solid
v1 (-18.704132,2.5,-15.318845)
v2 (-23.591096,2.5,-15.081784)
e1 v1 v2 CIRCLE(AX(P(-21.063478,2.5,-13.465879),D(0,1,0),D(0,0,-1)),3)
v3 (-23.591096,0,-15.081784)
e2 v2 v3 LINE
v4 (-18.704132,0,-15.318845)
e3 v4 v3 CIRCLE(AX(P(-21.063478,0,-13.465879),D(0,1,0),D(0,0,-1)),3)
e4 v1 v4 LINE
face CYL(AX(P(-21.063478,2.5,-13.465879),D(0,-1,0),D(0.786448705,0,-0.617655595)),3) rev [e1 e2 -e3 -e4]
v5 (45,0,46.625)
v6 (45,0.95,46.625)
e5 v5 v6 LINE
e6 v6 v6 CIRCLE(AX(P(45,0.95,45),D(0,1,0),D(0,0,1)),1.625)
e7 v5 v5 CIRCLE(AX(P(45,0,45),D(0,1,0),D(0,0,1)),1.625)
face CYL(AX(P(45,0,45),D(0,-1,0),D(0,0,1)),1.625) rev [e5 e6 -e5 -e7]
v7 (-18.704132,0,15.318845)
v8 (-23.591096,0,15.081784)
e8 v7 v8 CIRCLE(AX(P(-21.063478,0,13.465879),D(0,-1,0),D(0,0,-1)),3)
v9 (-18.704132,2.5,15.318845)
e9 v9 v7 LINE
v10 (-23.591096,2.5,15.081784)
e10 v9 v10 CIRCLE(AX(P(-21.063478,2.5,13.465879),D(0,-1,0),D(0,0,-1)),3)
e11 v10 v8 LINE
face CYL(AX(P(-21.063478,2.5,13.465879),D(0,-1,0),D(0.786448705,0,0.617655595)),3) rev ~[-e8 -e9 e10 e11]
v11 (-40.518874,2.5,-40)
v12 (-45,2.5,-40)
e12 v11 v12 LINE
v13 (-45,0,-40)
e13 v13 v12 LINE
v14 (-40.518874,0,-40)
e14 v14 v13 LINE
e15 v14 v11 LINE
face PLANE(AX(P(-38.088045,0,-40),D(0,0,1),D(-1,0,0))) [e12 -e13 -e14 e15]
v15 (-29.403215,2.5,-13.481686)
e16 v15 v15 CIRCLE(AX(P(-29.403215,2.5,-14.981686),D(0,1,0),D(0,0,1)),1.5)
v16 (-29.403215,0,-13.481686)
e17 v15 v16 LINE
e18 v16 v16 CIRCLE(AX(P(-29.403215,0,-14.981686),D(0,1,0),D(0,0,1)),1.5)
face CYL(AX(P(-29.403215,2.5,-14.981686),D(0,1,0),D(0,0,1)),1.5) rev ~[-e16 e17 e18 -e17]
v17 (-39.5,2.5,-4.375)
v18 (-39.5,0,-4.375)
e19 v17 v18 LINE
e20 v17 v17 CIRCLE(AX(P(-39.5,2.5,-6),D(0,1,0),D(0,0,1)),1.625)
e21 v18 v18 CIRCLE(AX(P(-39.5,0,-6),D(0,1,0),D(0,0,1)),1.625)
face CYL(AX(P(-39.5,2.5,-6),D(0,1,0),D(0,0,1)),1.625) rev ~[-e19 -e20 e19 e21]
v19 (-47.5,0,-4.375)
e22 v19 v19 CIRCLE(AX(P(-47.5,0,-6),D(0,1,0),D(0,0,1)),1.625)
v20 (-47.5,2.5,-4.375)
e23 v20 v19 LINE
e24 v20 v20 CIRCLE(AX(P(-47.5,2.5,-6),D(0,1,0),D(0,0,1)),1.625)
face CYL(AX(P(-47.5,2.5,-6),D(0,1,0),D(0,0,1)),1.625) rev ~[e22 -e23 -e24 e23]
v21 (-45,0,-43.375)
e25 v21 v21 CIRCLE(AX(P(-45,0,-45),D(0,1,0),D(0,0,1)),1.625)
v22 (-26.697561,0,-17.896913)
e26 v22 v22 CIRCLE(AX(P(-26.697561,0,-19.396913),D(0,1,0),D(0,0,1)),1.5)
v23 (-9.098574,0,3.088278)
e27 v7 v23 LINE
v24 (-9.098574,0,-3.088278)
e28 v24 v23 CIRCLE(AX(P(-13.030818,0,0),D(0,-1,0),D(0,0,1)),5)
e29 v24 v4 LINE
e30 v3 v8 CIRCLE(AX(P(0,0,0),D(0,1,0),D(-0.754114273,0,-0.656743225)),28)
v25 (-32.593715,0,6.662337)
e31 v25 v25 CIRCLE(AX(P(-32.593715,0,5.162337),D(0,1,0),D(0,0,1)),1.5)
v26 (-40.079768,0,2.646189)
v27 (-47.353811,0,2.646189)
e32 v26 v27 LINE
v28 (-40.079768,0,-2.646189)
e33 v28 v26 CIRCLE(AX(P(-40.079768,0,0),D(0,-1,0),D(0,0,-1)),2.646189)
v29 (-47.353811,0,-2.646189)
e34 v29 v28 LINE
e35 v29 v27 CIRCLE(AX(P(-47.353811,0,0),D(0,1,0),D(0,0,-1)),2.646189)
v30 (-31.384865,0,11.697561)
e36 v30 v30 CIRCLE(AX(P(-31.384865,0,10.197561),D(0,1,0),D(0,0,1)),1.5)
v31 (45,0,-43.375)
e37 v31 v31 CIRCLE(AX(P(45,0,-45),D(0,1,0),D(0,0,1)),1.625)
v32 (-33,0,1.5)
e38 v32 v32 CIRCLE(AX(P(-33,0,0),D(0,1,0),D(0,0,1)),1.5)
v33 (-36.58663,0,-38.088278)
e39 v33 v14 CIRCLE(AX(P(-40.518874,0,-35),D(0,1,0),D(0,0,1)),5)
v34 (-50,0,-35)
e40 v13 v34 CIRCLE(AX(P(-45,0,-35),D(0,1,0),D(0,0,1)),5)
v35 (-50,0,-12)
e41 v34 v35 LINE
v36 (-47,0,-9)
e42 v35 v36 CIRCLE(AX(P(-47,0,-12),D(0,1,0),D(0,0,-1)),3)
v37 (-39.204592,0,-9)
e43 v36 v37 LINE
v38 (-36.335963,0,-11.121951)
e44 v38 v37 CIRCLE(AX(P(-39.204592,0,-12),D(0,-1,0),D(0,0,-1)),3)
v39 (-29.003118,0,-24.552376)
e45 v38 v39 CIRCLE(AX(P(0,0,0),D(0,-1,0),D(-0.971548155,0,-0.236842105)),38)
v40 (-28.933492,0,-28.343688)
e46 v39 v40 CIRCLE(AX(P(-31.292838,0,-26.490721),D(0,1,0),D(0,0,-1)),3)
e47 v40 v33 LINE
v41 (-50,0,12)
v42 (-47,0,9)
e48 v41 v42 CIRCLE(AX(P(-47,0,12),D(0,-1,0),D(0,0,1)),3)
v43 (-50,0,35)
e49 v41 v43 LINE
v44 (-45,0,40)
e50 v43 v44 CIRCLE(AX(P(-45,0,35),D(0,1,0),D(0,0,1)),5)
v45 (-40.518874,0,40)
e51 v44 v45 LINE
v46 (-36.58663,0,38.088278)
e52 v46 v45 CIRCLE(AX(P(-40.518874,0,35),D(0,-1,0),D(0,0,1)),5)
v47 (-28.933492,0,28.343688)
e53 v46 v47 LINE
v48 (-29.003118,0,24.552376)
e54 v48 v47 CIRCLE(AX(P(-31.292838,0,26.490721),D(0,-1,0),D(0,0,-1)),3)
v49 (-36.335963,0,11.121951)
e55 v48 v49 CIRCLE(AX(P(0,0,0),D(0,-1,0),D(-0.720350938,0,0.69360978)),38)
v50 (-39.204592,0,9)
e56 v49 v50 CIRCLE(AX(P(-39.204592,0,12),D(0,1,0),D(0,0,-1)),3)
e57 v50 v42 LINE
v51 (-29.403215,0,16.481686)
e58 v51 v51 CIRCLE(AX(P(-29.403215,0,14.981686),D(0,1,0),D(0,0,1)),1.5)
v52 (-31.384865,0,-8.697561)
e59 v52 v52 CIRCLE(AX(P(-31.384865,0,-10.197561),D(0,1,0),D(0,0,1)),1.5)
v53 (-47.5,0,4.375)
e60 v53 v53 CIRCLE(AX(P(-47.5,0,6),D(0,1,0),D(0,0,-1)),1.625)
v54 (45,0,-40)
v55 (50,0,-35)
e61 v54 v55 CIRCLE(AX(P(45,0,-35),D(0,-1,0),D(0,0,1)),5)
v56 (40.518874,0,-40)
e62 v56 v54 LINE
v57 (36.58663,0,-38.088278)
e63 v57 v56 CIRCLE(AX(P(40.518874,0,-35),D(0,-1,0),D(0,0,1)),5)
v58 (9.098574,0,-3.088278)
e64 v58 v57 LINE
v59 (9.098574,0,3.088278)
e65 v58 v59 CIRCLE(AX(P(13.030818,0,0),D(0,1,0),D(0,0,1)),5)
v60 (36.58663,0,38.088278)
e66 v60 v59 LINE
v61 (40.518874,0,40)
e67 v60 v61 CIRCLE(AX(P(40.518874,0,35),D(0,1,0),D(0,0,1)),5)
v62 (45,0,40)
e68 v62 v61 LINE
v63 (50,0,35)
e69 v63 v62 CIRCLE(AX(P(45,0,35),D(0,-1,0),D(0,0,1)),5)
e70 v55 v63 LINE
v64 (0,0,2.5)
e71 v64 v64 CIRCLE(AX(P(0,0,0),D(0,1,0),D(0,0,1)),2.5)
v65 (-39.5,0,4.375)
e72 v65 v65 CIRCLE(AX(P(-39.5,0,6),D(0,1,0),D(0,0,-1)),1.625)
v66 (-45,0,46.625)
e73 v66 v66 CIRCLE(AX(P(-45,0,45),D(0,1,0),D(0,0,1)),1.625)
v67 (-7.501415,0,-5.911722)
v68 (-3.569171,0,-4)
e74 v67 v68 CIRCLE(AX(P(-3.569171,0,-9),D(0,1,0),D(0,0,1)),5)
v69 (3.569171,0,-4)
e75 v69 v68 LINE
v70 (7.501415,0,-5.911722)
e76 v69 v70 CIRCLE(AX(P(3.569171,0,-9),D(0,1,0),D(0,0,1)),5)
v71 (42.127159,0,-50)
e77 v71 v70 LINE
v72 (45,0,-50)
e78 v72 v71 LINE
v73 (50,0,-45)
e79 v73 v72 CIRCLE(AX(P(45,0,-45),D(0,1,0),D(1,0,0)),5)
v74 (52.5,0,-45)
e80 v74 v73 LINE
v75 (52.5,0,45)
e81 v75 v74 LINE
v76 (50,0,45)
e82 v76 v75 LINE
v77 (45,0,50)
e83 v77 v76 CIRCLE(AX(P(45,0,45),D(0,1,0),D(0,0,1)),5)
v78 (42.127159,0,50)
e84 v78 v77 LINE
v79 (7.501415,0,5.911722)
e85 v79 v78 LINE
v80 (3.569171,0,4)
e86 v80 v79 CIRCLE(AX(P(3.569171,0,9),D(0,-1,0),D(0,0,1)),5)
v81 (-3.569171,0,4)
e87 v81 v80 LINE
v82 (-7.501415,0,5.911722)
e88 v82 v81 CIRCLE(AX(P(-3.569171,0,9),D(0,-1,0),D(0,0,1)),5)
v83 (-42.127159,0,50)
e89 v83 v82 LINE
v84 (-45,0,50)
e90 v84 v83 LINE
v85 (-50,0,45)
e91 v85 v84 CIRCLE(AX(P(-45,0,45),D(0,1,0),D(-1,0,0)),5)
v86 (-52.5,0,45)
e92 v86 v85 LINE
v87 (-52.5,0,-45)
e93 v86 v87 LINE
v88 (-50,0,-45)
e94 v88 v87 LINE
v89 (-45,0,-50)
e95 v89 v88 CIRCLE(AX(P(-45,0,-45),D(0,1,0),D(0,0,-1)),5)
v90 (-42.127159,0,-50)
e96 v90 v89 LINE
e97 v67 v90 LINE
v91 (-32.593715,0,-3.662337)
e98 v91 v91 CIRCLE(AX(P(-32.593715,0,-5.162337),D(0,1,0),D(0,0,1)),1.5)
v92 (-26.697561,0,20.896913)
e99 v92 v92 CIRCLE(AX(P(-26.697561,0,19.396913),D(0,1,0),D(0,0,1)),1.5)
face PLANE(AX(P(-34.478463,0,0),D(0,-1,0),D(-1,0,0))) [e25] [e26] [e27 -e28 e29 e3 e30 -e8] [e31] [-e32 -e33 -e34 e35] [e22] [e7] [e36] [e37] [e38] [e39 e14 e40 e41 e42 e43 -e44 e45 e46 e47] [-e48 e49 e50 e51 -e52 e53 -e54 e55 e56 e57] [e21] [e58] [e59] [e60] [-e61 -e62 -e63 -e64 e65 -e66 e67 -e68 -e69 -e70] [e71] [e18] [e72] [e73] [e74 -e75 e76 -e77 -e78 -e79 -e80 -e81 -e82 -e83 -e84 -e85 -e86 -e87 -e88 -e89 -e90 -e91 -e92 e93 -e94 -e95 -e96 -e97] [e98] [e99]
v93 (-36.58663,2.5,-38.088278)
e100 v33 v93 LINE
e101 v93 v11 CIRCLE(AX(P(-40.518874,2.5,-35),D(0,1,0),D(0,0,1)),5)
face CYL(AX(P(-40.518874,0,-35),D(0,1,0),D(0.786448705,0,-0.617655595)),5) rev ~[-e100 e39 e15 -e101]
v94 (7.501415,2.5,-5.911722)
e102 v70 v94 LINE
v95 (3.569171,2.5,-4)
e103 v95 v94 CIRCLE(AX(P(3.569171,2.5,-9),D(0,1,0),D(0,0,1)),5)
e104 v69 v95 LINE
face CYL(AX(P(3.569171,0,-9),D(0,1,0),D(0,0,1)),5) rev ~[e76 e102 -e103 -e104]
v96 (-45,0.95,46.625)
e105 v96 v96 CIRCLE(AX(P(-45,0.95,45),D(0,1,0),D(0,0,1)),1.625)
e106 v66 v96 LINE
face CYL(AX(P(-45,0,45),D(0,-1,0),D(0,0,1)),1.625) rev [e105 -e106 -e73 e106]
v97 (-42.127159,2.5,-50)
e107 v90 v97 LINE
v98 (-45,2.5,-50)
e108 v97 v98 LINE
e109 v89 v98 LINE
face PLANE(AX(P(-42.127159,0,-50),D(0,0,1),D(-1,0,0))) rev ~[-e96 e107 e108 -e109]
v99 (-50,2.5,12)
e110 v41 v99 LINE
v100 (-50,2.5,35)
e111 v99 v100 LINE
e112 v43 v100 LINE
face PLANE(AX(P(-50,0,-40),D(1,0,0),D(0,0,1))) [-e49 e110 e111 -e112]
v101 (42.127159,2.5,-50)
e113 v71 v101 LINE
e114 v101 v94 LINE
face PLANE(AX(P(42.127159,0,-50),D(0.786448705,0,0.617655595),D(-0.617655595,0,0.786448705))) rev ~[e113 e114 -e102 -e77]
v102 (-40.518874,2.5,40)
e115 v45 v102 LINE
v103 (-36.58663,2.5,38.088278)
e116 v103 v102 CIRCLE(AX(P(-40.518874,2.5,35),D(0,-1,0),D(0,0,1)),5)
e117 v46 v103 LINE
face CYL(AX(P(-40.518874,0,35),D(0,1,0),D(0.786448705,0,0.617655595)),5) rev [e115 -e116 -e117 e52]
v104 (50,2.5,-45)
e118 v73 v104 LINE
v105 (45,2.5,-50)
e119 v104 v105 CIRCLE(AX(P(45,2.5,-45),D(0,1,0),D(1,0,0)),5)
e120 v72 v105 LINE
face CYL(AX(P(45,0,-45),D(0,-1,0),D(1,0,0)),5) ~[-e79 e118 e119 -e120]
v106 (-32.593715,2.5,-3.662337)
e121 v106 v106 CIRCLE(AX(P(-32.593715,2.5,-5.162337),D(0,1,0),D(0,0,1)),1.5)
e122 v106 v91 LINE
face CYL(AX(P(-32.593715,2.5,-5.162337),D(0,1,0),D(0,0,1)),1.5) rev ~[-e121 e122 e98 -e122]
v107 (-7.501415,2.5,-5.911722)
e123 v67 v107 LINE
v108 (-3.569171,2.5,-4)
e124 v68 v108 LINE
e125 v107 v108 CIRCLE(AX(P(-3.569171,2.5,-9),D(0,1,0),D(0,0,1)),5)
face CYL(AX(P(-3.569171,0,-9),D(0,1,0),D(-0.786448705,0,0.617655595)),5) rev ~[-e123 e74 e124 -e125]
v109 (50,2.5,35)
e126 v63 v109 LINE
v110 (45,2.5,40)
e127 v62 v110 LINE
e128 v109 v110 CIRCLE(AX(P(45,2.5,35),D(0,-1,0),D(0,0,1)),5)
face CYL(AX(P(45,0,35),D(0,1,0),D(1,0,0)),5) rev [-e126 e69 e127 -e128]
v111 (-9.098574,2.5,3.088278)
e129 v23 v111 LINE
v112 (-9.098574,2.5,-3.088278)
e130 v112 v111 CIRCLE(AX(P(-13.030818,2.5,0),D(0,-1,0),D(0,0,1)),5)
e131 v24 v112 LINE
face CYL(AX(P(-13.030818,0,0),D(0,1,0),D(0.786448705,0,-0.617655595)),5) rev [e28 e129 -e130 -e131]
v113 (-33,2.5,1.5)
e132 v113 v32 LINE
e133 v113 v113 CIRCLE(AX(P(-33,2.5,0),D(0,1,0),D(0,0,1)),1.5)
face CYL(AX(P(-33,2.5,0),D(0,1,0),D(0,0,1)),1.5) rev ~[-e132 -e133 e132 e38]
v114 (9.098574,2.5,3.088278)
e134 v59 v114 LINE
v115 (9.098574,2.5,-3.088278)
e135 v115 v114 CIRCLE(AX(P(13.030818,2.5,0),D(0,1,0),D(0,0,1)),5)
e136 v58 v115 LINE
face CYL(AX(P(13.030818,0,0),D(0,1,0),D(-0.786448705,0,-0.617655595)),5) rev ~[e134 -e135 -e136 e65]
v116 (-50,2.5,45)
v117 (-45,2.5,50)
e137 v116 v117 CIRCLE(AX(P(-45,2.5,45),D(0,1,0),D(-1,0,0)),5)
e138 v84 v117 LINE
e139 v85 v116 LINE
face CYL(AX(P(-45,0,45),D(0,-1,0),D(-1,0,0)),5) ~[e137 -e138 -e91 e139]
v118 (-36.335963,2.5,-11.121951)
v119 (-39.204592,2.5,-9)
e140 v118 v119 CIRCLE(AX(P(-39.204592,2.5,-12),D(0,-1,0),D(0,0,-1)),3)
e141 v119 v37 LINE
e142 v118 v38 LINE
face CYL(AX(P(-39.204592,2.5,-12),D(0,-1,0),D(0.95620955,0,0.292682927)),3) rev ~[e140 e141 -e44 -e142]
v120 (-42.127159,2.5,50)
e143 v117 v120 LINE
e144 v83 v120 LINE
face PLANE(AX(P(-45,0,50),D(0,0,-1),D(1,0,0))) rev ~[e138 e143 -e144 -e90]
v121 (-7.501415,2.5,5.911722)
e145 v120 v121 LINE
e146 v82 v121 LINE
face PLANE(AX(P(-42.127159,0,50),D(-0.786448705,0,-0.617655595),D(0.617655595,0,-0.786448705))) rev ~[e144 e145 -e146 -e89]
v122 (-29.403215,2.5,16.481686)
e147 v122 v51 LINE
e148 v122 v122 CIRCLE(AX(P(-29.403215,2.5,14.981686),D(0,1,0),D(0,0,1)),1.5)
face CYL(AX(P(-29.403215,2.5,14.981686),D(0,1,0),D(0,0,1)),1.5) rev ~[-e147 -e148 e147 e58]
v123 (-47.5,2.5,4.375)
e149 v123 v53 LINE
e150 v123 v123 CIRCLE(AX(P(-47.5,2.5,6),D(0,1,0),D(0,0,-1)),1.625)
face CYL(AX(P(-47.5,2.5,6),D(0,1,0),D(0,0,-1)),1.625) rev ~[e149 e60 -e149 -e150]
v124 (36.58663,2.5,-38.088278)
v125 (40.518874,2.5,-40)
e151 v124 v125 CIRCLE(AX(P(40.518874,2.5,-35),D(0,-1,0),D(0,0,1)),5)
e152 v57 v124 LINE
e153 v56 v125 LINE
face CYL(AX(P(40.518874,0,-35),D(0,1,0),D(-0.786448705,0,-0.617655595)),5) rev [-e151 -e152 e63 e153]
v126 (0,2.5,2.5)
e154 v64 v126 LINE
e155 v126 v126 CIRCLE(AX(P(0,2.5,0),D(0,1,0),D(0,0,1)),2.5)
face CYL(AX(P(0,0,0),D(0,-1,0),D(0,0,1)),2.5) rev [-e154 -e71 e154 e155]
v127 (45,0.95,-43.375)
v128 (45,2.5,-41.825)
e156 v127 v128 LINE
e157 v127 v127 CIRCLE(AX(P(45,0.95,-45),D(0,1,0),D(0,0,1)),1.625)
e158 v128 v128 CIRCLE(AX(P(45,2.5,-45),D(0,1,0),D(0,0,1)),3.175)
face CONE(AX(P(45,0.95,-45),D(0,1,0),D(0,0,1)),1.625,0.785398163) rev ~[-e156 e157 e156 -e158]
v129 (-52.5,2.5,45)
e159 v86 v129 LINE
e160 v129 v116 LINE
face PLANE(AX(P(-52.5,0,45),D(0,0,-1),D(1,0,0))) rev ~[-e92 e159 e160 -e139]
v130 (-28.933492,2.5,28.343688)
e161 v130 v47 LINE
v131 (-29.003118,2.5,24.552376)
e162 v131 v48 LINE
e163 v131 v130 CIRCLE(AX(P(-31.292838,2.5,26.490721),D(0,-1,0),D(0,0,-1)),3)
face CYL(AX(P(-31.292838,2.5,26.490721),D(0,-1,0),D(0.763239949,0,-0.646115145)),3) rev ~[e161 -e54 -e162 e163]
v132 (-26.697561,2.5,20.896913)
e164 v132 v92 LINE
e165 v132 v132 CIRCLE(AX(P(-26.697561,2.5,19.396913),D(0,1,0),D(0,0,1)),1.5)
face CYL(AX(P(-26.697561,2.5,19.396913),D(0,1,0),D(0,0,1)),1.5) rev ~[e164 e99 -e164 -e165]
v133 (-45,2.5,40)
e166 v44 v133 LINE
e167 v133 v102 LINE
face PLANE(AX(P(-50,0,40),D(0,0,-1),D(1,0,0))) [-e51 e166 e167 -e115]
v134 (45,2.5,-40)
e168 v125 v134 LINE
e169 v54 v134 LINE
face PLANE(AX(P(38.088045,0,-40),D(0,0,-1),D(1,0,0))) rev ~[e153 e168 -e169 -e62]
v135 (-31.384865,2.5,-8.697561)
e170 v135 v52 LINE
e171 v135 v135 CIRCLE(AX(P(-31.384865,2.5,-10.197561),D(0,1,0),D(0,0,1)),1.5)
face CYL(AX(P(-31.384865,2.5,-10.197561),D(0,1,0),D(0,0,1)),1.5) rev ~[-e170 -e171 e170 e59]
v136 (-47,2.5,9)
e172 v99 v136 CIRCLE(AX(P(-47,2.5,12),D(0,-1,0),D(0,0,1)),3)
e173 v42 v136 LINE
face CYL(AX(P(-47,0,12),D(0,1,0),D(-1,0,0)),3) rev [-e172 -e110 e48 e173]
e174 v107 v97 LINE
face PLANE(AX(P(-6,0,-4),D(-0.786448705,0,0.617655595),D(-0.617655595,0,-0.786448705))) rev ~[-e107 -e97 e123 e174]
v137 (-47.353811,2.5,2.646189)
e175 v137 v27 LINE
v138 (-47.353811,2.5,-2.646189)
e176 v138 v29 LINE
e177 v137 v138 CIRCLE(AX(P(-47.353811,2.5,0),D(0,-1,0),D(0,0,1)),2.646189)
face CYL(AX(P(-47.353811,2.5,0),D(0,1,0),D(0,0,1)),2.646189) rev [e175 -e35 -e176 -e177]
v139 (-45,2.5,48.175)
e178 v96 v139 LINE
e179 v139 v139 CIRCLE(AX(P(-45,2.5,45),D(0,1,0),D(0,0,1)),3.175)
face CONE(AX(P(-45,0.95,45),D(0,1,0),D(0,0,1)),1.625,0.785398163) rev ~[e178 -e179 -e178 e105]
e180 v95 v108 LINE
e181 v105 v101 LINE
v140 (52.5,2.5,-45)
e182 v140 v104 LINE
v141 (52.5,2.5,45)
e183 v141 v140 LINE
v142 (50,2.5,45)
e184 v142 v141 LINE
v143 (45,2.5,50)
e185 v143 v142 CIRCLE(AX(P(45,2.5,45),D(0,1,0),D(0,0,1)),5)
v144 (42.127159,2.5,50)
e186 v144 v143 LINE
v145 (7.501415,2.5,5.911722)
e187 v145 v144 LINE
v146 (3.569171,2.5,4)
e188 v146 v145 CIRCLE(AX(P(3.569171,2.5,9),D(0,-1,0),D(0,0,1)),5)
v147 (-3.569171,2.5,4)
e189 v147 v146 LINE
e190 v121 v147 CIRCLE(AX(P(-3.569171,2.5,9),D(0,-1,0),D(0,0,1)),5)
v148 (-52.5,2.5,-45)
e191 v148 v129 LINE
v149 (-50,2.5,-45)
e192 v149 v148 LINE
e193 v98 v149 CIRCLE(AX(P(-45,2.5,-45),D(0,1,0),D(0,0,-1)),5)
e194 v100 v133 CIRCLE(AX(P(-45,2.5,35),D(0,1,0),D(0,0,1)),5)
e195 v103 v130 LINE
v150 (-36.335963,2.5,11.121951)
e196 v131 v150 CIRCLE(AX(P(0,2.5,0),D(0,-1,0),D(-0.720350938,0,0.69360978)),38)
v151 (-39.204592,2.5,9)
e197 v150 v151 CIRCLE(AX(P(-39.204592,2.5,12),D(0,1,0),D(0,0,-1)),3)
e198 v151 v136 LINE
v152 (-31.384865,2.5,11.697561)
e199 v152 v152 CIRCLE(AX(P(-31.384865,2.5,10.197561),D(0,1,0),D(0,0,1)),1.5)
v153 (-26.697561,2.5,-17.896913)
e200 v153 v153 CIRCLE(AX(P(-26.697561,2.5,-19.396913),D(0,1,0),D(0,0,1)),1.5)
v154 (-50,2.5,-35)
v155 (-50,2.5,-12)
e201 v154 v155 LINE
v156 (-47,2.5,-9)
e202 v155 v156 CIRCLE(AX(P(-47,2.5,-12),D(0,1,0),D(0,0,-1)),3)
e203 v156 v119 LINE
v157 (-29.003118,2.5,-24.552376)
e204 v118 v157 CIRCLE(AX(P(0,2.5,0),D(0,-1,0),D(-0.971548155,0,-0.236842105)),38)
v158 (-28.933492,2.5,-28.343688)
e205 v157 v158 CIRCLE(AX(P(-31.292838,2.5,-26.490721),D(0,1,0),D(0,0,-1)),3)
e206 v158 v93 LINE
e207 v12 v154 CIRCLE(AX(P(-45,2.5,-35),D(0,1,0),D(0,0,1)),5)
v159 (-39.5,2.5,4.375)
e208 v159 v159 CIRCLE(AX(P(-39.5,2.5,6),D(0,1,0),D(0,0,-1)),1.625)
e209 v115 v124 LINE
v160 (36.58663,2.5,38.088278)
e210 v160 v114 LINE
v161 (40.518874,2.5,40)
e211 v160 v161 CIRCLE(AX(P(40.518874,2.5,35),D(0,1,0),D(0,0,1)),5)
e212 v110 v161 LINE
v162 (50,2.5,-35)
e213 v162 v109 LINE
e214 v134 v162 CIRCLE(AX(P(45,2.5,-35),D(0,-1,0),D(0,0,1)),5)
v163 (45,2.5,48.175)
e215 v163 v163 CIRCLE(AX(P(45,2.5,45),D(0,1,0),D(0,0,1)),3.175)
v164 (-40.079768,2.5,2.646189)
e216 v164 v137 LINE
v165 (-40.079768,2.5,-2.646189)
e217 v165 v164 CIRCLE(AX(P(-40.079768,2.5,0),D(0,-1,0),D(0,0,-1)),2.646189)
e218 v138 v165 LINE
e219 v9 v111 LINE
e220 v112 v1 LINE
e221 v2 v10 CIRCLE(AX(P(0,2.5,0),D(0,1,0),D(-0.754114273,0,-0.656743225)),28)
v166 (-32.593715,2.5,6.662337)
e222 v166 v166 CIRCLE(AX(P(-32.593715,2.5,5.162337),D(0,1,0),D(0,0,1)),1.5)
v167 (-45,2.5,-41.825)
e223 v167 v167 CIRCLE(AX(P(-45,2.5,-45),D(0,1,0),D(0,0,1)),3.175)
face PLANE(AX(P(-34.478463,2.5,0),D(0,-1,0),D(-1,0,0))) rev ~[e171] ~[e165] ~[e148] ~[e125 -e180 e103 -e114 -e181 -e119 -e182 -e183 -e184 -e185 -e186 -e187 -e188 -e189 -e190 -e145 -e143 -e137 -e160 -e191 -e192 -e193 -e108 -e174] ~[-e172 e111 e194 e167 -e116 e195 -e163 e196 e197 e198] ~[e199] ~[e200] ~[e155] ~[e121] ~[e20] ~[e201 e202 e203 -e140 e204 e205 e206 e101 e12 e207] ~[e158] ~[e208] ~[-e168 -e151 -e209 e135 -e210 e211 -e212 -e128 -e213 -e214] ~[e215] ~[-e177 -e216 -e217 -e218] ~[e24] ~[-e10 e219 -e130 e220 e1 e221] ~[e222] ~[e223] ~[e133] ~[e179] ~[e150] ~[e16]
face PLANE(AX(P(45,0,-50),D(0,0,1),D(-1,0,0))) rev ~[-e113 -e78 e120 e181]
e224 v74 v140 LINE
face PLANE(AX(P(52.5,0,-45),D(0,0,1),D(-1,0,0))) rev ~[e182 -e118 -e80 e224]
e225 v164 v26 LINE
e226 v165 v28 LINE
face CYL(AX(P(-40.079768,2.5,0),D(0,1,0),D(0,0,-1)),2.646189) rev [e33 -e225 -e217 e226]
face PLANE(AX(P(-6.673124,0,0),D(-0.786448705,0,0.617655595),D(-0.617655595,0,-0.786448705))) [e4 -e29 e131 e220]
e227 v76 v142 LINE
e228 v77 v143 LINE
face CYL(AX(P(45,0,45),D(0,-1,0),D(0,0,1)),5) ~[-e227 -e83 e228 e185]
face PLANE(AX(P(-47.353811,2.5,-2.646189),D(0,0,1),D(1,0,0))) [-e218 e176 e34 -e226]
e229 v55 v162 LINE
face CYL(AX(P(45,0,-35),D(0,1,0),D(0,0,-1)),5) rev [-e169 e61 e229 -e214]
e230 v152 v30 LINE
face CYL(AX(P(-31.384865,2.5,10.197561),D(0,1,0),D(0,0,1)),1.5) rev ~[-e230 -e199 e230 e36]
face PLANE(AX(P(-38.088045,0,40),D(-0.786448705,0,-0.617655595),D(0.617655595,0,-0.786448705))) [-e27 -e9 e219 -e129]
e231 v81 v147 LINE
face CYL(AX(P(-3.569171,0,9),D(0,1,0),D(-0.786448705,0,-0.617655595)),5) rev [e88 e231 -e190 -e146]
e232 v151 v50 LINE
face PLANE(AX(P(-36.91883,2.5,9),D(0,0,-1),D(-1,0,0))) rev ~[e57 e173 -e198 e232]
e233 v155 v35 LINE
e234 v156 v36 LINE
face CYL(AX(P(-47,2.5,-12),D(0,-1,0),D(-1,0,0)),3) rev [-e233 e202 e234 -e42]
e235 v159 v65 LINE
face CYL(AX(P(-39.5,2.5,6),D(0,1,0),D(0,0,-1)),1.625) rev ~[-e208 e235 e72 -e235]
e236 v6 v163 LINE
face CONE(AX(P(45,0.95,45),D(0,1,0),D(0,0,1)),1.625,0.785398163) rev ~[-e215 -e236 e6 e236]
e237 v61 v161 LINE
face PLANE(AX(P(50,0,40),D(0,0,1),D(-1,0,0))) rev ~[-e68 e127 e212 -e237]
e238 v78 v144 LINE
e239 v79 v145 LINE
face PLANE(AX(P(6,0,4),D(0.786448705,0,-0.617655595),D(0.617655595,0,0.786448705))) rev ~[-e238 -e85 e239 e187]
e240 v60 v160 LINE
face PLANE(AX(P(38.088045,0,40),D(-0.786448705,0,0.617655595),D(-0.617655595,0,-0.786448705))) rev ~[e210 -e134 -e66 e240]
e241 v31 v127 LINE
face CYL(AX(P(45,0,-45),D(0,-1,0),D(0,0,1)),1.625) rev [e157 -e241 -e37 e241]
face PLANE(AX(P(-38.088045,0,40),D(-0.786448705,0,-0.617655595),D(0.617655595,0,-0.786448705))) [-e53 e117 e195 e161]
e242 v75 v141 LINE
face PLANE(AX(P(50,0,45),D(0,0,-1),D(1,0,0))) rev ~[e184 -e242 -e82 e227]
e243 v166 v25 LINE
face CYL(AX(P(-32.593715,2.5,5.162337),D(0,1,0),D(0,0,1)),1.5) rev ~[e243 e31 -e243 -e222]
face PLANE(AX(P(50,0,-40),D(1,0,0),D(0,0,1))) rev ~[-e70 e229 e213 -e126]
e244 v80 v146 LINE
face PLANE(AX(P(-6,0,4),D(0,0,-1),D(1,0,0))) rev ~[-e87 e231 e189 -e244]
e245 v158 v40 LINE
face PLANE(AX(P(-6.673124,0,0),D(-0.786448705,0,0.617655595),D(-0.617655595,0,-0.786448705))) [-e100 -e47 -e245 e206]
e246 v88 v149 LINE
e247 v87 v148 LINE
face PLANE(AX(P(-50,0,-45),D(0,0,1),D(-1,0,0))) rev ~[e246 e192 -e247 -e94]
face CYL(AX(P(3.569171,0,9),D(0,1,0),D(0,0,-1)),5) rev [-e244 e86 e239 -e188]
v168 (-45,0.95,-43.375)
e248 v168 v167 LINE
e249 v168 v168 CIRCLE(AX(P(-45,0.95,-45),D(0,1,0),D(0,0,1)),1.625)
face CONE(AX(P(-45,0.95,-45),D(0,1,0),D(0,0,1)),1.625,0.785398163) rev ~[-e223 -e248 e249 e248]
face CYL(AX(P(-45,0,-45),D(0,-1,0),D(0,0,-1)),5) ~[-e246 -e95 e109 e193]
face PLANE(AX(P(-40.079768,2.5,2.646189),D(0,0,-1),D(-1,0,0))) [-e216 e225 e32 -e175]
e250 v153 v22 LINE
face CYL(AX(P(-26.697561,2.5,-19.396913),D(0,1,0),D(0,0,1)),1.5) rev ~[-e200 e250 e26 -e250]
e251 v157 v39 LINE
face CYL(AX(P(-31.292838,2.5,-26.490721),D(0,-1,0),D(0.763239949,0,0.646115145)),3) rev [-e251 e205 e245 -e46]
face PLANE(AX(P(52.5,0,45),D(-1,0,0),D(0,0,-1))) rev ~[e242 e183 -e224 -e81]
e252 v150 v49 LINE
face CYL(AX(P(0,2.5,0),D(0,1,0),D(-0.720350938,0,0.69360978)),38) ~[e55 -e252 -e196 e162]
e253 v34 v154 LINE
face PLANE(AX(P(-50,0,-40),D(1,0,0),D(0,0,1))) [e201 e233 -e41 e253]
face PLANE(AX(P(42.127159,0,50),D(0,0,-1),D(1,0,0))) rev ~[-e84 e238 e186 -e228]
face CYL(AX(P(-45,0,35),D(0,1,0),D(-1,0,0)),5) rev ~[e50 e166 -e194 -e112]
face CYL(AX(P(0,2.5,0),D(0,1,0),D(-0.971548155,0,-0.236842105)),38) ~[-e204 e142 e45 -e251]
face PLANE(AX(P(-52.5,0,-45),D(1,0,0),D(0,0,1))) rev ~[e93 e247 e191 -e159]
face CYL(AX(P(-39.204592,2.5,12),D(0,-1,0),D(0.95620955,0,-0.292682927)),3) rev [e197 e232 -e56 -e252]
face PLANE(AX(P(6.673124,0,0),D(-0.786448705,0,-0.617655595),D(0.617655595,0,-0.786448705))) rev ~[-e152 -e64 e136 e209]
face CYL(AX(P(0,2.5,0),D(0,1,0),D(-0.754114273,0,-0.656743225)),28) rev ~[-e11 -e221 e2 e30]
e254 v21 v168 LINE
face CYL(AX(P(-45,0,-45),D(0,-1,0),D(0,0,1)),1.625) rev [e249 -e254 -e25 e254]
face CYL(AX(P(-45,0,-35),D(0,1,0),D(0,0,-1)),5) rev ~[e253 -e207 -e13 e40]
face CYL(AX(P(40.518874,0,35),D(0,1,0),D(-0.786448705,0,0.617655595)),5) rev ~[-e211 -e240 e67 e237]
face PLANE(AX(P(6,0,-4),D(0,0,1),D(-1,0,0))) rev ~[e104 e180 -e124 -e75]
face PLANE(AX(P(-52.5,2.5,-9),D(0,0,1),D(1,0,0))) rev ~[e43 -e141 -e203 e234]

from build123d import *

# Parameters (mm, degrees)
SKETCH1_R           = 1.625
SKETCH1_R_2         = 2.5
BOSS_EXTRUDE1_DEPTH = 2.5
FILLET1_R           = 5
FILLET2_R           = 5
CHAMFER1_SIZE       = 1.55
SKETCH3_R           = 1.625
SKETCH3_R_2         = 1.5
BOSS_EXTRUDE2_DEPTH = 2.5
FILLET3_R           = 3


with BuildPart() as part:
    # Sketch1 → Boss-Extrude1 (new body)
    with BuildSketch(Plane(origin=(0, 0, 0), x_dir=(1, 0, 0), z_dir=(0, 1, 0))):
        with BuildLine():
            Line((-52.5, 45), (-52.5, -45))
            Line((-52.5, -45), (-50, -45))
            ThreePointArc((-50, -45), (-48.535533906, -48.535533906), (-45, -50))
            Line((-45, -50), (-42.127158908, -50))
            Line((-42.127158908, -50), (-6, -4))
            Line((-6, -4), (6, -4))
            Line((6, -4), (42.127158908, -50))
            Line((42.127158908, -50), (45, -50))
            ThreePointArc((45, -50), (48.535533906, -48.535533906), (50, -45))
            Line((50, -45), (52.5, -45))
            Line((52.5, -45), (52.5, 45))
            Line((52.5, 45), (50, 45))
            ThreePointArc((50, 45), (48.535533906, 48.535533906), (45, 50))
            Line((45, 50), (42.127158908, 50))
            Line((42.127158908, 50), (6, 4))
            Line((6, 4), (-6, 4))
            Line((-6, 4), (-42.127158908, 50))
            Line((-42.127158908, 50), (-45, 50))
            ThreePointArc((-45, 50), (-48.535533906, 48.535533906), (-50, 45))
            Line((-50, 45), (-52.5, 45))
        make_face()
        with Locations(Location((-45, 45, 0), (0, 0, 270))):
            Circle(SKETCH1_R, mode=Mode.SUBTRACT)
        with Locations(Location((45, 45, 0), (0, 0, 270))):
            Circle(SKETCH1_R, mode=Mode.SUBTRACT)
        with Locations(Location((-45, -45, 0), (0, 0, 270))):
            Circle(SKETCH1_R, mode=Mode.SUBTRACT)
        with Locations(Location((45, -45, 0), (0, 0, 270))):
            Circle(SKETCH1_R, mode=Mode.SUBTRACT)
        with Locations(Location((0, 0, 0), (0, 0, 270))):
            Circle(SKETCH1_R_2, mode=Mode.SUBTRACT)
        Polygon((-50, 40), (-50, -40), (-38.088044946, -40), (-6.673124156, 0), (-38.088044946, 40), align=None, mode=Mode.SUBTRACT)
        Polygon((50, -40), (38.088044946, -40), (6.673124156, 0), (38.088044946, 40), (50, 40), align=None, mode=Mode.SUBTRACT)
    extrude(amount=BOSS_EXTRUDE1_DEPTH)

    # Fillet1
    fillet1_edges = [part.edges().sort_by_distance(p)[0] for p in [
        (-6, 1.25, -4),
        (6, 1.25, -4),
        (6, 1.25, 4),
        (-6, 1.25, 4),
        (-6.673124156, 1.25, 0),
        (6.673124156, 1.25, 0),
    ]]
    fillet(fillet1_edges, radius=FILLET1_R)

    # Fillet2
    fillet2_edges = [part.edges().sort_by_distance(p)[0] for p in [
        (-38.088044946, 1.25, -40),
        (-50, 1.25, -40),
        (-50, 1.25, 40),
        (-38.088044946, 1.25, 40),
        (50, 1.25, 40),
        (50, 1.25, -40),
        (38.088044946, 1.25, -40),
        (38.088044946, 1.25, 40),
    ]]
    fillet(fillet2_edges, radius=FILLET2_R)

    # Chamfer1
    chamfer1_edges = [part.edges().sort_by_distance(p)[0] for p in [
        (-45, 2.5, -46.625),
        (45, 2.5, -46.625),
        (-45, 2.5, 43.375),
        (45, 2.5, 43.375),
    ]]
    chamfer(chamfer1_edges, length=CHAMFER1_SIZE)

    # Sketch3 → Boss-Extrude2 (add)
    with BuildSketch(Plane(origin=(0, 2.5, 0), x_dir=(1, 0, 0), z_dir=(0, 1, 0))):
        with BuildLine():
            Line((-27.373335632, 26.357171631), (-21.115199634, 18.388810304))
            ThreePointArc((-21.115199634, 18.388810304), (-28, 0), (-21.115199634, -18.388810304))
            Line((-21.115199634, -18.388810304), (-27.373335632, -26.357171631))
            ThreePointArc((-27.373335632, -26.357171631), (-33.296974163, -18.311513088), (-36.918829884, -9))
            Line((-36.918829884, -9), (-52.5, -9))
            Line((-52.5, -9), (-52.5, 9))
            Line((-52.5, 9), (-36.918829884, 9))
            ThreePointArc((-36.918829884, 9), (-33.296974163, 18.311513088), (-27.373335632, 26.357171631))
        make_face()
        with Locations(Location((-47.5, 6, 0), (0, 0, 270))):
            Circle(SKETCH3_R, mode=Mode.SUBTRACT)
        with Locations(Location((-39.5, 6, 0), (0, 0, 270))):
            Circle(SKETCH3_R, mode=Mode.SUBTRACT)
        with Locations(Location((-39.5, -6, 0), (0, 0, 90))):
            Circle(SKETCH3_R, mode=Mode.SUBTRACT)
        with Locations(Location((-47.5, -6, 0), (0, 0, 90))):
            Circle(SKETCH3_R, mode=Mode.SUBTRACT)
        with Locations(Location((-33, 0, 0), (0, 0, 270))):
            Circle(SKETCH3_R_2, mode=Mode.SUBTRACT)
        with Locations(Location((-32.59371524, 5.162337346, 0), (0, 0, 270))):
            Circle(SKETCH3_R_2, mode=Mode.SUBTRACT)
        with Locations(Location((-31.384865038, 10.197560814, 0), (0, 0, 270))):
            Circle(SKETCH3_R_2, mode=Mode.SUBTRACT)
        with Locations(Location((-29.403215298, 14.981686491, 0), (0, 0, 270))):
            Circle(SKETCH3_R_2, mode=Mode.SUBTRACT)
        with Locations(Location((-26.697560814, 19.396913326, 0), (0, 0, 270))):
            Circle(SKETCH3_R_2, mode=Mode.SUBTRACT)
        with Locations(Location((-26.697560814, -19.396913326, 0), (0, 0, 270))):
            Circle(SKETCH3_R_2, mode=Mode.SUBTRACT)
        with Locations(Location((-29.403215298, -14.981686491, 0), (0, 0, 270))):
            Circle(SKETCH3_R_2, mode=Mode.SUBTRACT)
        with Locations(Location((-31.384865038, -10.197560814, 0), (0, 0, 270))):
            Circle(SKETCH3_R_2, mode=Mode.SUBTRACT)
        with Locations(Location((-32.59371524, -5.162337346, 0), (0, 0, 270))):
            Circle(SKETCH3_R_2, mode=Mode.SUBTRACT)
        with BuildLine():
            Line((-47.353810883, 2.646189117), (-40.079768039, 2.646189117))
            ThreePointArc((-40.079768039, 2.646189117), (-37.433578922, 0), (-40.079768039, -2.646189117))
            Line((-40.079768039, -2.646189117), (-47.353810883, -2.646189117))
            ThreePointArc((-47.353810883, -2.646189117), (-50, 0), (-47.353810883, 2.646189117))
        make_face(mode=Mode.SUBTRACT)
    extrude(amount=-BOSS_EXTRUDE2_DEPTH)

    # Fillet3
    fillet3_edges = [part.edges().sort_by_distance(p)[0] for p in [
        (-50, 1.25, -9),
        (-50, 1.25, 9),
        (-36.918829884, 1.25, -9),
        (-27.373335632, 1.25, -26.357171631),
        (-21.115199634, 1.25, -18.388810304),
        (-21.115199634, 1.25, 18.388810304),
        (-27.373335632, 1.25, 26.357171631),
        (-36.918829884, 1.25, 9),
    ]]
    fillet(fillet3_edges, radius=FILLET3_R)


solid = part.part
